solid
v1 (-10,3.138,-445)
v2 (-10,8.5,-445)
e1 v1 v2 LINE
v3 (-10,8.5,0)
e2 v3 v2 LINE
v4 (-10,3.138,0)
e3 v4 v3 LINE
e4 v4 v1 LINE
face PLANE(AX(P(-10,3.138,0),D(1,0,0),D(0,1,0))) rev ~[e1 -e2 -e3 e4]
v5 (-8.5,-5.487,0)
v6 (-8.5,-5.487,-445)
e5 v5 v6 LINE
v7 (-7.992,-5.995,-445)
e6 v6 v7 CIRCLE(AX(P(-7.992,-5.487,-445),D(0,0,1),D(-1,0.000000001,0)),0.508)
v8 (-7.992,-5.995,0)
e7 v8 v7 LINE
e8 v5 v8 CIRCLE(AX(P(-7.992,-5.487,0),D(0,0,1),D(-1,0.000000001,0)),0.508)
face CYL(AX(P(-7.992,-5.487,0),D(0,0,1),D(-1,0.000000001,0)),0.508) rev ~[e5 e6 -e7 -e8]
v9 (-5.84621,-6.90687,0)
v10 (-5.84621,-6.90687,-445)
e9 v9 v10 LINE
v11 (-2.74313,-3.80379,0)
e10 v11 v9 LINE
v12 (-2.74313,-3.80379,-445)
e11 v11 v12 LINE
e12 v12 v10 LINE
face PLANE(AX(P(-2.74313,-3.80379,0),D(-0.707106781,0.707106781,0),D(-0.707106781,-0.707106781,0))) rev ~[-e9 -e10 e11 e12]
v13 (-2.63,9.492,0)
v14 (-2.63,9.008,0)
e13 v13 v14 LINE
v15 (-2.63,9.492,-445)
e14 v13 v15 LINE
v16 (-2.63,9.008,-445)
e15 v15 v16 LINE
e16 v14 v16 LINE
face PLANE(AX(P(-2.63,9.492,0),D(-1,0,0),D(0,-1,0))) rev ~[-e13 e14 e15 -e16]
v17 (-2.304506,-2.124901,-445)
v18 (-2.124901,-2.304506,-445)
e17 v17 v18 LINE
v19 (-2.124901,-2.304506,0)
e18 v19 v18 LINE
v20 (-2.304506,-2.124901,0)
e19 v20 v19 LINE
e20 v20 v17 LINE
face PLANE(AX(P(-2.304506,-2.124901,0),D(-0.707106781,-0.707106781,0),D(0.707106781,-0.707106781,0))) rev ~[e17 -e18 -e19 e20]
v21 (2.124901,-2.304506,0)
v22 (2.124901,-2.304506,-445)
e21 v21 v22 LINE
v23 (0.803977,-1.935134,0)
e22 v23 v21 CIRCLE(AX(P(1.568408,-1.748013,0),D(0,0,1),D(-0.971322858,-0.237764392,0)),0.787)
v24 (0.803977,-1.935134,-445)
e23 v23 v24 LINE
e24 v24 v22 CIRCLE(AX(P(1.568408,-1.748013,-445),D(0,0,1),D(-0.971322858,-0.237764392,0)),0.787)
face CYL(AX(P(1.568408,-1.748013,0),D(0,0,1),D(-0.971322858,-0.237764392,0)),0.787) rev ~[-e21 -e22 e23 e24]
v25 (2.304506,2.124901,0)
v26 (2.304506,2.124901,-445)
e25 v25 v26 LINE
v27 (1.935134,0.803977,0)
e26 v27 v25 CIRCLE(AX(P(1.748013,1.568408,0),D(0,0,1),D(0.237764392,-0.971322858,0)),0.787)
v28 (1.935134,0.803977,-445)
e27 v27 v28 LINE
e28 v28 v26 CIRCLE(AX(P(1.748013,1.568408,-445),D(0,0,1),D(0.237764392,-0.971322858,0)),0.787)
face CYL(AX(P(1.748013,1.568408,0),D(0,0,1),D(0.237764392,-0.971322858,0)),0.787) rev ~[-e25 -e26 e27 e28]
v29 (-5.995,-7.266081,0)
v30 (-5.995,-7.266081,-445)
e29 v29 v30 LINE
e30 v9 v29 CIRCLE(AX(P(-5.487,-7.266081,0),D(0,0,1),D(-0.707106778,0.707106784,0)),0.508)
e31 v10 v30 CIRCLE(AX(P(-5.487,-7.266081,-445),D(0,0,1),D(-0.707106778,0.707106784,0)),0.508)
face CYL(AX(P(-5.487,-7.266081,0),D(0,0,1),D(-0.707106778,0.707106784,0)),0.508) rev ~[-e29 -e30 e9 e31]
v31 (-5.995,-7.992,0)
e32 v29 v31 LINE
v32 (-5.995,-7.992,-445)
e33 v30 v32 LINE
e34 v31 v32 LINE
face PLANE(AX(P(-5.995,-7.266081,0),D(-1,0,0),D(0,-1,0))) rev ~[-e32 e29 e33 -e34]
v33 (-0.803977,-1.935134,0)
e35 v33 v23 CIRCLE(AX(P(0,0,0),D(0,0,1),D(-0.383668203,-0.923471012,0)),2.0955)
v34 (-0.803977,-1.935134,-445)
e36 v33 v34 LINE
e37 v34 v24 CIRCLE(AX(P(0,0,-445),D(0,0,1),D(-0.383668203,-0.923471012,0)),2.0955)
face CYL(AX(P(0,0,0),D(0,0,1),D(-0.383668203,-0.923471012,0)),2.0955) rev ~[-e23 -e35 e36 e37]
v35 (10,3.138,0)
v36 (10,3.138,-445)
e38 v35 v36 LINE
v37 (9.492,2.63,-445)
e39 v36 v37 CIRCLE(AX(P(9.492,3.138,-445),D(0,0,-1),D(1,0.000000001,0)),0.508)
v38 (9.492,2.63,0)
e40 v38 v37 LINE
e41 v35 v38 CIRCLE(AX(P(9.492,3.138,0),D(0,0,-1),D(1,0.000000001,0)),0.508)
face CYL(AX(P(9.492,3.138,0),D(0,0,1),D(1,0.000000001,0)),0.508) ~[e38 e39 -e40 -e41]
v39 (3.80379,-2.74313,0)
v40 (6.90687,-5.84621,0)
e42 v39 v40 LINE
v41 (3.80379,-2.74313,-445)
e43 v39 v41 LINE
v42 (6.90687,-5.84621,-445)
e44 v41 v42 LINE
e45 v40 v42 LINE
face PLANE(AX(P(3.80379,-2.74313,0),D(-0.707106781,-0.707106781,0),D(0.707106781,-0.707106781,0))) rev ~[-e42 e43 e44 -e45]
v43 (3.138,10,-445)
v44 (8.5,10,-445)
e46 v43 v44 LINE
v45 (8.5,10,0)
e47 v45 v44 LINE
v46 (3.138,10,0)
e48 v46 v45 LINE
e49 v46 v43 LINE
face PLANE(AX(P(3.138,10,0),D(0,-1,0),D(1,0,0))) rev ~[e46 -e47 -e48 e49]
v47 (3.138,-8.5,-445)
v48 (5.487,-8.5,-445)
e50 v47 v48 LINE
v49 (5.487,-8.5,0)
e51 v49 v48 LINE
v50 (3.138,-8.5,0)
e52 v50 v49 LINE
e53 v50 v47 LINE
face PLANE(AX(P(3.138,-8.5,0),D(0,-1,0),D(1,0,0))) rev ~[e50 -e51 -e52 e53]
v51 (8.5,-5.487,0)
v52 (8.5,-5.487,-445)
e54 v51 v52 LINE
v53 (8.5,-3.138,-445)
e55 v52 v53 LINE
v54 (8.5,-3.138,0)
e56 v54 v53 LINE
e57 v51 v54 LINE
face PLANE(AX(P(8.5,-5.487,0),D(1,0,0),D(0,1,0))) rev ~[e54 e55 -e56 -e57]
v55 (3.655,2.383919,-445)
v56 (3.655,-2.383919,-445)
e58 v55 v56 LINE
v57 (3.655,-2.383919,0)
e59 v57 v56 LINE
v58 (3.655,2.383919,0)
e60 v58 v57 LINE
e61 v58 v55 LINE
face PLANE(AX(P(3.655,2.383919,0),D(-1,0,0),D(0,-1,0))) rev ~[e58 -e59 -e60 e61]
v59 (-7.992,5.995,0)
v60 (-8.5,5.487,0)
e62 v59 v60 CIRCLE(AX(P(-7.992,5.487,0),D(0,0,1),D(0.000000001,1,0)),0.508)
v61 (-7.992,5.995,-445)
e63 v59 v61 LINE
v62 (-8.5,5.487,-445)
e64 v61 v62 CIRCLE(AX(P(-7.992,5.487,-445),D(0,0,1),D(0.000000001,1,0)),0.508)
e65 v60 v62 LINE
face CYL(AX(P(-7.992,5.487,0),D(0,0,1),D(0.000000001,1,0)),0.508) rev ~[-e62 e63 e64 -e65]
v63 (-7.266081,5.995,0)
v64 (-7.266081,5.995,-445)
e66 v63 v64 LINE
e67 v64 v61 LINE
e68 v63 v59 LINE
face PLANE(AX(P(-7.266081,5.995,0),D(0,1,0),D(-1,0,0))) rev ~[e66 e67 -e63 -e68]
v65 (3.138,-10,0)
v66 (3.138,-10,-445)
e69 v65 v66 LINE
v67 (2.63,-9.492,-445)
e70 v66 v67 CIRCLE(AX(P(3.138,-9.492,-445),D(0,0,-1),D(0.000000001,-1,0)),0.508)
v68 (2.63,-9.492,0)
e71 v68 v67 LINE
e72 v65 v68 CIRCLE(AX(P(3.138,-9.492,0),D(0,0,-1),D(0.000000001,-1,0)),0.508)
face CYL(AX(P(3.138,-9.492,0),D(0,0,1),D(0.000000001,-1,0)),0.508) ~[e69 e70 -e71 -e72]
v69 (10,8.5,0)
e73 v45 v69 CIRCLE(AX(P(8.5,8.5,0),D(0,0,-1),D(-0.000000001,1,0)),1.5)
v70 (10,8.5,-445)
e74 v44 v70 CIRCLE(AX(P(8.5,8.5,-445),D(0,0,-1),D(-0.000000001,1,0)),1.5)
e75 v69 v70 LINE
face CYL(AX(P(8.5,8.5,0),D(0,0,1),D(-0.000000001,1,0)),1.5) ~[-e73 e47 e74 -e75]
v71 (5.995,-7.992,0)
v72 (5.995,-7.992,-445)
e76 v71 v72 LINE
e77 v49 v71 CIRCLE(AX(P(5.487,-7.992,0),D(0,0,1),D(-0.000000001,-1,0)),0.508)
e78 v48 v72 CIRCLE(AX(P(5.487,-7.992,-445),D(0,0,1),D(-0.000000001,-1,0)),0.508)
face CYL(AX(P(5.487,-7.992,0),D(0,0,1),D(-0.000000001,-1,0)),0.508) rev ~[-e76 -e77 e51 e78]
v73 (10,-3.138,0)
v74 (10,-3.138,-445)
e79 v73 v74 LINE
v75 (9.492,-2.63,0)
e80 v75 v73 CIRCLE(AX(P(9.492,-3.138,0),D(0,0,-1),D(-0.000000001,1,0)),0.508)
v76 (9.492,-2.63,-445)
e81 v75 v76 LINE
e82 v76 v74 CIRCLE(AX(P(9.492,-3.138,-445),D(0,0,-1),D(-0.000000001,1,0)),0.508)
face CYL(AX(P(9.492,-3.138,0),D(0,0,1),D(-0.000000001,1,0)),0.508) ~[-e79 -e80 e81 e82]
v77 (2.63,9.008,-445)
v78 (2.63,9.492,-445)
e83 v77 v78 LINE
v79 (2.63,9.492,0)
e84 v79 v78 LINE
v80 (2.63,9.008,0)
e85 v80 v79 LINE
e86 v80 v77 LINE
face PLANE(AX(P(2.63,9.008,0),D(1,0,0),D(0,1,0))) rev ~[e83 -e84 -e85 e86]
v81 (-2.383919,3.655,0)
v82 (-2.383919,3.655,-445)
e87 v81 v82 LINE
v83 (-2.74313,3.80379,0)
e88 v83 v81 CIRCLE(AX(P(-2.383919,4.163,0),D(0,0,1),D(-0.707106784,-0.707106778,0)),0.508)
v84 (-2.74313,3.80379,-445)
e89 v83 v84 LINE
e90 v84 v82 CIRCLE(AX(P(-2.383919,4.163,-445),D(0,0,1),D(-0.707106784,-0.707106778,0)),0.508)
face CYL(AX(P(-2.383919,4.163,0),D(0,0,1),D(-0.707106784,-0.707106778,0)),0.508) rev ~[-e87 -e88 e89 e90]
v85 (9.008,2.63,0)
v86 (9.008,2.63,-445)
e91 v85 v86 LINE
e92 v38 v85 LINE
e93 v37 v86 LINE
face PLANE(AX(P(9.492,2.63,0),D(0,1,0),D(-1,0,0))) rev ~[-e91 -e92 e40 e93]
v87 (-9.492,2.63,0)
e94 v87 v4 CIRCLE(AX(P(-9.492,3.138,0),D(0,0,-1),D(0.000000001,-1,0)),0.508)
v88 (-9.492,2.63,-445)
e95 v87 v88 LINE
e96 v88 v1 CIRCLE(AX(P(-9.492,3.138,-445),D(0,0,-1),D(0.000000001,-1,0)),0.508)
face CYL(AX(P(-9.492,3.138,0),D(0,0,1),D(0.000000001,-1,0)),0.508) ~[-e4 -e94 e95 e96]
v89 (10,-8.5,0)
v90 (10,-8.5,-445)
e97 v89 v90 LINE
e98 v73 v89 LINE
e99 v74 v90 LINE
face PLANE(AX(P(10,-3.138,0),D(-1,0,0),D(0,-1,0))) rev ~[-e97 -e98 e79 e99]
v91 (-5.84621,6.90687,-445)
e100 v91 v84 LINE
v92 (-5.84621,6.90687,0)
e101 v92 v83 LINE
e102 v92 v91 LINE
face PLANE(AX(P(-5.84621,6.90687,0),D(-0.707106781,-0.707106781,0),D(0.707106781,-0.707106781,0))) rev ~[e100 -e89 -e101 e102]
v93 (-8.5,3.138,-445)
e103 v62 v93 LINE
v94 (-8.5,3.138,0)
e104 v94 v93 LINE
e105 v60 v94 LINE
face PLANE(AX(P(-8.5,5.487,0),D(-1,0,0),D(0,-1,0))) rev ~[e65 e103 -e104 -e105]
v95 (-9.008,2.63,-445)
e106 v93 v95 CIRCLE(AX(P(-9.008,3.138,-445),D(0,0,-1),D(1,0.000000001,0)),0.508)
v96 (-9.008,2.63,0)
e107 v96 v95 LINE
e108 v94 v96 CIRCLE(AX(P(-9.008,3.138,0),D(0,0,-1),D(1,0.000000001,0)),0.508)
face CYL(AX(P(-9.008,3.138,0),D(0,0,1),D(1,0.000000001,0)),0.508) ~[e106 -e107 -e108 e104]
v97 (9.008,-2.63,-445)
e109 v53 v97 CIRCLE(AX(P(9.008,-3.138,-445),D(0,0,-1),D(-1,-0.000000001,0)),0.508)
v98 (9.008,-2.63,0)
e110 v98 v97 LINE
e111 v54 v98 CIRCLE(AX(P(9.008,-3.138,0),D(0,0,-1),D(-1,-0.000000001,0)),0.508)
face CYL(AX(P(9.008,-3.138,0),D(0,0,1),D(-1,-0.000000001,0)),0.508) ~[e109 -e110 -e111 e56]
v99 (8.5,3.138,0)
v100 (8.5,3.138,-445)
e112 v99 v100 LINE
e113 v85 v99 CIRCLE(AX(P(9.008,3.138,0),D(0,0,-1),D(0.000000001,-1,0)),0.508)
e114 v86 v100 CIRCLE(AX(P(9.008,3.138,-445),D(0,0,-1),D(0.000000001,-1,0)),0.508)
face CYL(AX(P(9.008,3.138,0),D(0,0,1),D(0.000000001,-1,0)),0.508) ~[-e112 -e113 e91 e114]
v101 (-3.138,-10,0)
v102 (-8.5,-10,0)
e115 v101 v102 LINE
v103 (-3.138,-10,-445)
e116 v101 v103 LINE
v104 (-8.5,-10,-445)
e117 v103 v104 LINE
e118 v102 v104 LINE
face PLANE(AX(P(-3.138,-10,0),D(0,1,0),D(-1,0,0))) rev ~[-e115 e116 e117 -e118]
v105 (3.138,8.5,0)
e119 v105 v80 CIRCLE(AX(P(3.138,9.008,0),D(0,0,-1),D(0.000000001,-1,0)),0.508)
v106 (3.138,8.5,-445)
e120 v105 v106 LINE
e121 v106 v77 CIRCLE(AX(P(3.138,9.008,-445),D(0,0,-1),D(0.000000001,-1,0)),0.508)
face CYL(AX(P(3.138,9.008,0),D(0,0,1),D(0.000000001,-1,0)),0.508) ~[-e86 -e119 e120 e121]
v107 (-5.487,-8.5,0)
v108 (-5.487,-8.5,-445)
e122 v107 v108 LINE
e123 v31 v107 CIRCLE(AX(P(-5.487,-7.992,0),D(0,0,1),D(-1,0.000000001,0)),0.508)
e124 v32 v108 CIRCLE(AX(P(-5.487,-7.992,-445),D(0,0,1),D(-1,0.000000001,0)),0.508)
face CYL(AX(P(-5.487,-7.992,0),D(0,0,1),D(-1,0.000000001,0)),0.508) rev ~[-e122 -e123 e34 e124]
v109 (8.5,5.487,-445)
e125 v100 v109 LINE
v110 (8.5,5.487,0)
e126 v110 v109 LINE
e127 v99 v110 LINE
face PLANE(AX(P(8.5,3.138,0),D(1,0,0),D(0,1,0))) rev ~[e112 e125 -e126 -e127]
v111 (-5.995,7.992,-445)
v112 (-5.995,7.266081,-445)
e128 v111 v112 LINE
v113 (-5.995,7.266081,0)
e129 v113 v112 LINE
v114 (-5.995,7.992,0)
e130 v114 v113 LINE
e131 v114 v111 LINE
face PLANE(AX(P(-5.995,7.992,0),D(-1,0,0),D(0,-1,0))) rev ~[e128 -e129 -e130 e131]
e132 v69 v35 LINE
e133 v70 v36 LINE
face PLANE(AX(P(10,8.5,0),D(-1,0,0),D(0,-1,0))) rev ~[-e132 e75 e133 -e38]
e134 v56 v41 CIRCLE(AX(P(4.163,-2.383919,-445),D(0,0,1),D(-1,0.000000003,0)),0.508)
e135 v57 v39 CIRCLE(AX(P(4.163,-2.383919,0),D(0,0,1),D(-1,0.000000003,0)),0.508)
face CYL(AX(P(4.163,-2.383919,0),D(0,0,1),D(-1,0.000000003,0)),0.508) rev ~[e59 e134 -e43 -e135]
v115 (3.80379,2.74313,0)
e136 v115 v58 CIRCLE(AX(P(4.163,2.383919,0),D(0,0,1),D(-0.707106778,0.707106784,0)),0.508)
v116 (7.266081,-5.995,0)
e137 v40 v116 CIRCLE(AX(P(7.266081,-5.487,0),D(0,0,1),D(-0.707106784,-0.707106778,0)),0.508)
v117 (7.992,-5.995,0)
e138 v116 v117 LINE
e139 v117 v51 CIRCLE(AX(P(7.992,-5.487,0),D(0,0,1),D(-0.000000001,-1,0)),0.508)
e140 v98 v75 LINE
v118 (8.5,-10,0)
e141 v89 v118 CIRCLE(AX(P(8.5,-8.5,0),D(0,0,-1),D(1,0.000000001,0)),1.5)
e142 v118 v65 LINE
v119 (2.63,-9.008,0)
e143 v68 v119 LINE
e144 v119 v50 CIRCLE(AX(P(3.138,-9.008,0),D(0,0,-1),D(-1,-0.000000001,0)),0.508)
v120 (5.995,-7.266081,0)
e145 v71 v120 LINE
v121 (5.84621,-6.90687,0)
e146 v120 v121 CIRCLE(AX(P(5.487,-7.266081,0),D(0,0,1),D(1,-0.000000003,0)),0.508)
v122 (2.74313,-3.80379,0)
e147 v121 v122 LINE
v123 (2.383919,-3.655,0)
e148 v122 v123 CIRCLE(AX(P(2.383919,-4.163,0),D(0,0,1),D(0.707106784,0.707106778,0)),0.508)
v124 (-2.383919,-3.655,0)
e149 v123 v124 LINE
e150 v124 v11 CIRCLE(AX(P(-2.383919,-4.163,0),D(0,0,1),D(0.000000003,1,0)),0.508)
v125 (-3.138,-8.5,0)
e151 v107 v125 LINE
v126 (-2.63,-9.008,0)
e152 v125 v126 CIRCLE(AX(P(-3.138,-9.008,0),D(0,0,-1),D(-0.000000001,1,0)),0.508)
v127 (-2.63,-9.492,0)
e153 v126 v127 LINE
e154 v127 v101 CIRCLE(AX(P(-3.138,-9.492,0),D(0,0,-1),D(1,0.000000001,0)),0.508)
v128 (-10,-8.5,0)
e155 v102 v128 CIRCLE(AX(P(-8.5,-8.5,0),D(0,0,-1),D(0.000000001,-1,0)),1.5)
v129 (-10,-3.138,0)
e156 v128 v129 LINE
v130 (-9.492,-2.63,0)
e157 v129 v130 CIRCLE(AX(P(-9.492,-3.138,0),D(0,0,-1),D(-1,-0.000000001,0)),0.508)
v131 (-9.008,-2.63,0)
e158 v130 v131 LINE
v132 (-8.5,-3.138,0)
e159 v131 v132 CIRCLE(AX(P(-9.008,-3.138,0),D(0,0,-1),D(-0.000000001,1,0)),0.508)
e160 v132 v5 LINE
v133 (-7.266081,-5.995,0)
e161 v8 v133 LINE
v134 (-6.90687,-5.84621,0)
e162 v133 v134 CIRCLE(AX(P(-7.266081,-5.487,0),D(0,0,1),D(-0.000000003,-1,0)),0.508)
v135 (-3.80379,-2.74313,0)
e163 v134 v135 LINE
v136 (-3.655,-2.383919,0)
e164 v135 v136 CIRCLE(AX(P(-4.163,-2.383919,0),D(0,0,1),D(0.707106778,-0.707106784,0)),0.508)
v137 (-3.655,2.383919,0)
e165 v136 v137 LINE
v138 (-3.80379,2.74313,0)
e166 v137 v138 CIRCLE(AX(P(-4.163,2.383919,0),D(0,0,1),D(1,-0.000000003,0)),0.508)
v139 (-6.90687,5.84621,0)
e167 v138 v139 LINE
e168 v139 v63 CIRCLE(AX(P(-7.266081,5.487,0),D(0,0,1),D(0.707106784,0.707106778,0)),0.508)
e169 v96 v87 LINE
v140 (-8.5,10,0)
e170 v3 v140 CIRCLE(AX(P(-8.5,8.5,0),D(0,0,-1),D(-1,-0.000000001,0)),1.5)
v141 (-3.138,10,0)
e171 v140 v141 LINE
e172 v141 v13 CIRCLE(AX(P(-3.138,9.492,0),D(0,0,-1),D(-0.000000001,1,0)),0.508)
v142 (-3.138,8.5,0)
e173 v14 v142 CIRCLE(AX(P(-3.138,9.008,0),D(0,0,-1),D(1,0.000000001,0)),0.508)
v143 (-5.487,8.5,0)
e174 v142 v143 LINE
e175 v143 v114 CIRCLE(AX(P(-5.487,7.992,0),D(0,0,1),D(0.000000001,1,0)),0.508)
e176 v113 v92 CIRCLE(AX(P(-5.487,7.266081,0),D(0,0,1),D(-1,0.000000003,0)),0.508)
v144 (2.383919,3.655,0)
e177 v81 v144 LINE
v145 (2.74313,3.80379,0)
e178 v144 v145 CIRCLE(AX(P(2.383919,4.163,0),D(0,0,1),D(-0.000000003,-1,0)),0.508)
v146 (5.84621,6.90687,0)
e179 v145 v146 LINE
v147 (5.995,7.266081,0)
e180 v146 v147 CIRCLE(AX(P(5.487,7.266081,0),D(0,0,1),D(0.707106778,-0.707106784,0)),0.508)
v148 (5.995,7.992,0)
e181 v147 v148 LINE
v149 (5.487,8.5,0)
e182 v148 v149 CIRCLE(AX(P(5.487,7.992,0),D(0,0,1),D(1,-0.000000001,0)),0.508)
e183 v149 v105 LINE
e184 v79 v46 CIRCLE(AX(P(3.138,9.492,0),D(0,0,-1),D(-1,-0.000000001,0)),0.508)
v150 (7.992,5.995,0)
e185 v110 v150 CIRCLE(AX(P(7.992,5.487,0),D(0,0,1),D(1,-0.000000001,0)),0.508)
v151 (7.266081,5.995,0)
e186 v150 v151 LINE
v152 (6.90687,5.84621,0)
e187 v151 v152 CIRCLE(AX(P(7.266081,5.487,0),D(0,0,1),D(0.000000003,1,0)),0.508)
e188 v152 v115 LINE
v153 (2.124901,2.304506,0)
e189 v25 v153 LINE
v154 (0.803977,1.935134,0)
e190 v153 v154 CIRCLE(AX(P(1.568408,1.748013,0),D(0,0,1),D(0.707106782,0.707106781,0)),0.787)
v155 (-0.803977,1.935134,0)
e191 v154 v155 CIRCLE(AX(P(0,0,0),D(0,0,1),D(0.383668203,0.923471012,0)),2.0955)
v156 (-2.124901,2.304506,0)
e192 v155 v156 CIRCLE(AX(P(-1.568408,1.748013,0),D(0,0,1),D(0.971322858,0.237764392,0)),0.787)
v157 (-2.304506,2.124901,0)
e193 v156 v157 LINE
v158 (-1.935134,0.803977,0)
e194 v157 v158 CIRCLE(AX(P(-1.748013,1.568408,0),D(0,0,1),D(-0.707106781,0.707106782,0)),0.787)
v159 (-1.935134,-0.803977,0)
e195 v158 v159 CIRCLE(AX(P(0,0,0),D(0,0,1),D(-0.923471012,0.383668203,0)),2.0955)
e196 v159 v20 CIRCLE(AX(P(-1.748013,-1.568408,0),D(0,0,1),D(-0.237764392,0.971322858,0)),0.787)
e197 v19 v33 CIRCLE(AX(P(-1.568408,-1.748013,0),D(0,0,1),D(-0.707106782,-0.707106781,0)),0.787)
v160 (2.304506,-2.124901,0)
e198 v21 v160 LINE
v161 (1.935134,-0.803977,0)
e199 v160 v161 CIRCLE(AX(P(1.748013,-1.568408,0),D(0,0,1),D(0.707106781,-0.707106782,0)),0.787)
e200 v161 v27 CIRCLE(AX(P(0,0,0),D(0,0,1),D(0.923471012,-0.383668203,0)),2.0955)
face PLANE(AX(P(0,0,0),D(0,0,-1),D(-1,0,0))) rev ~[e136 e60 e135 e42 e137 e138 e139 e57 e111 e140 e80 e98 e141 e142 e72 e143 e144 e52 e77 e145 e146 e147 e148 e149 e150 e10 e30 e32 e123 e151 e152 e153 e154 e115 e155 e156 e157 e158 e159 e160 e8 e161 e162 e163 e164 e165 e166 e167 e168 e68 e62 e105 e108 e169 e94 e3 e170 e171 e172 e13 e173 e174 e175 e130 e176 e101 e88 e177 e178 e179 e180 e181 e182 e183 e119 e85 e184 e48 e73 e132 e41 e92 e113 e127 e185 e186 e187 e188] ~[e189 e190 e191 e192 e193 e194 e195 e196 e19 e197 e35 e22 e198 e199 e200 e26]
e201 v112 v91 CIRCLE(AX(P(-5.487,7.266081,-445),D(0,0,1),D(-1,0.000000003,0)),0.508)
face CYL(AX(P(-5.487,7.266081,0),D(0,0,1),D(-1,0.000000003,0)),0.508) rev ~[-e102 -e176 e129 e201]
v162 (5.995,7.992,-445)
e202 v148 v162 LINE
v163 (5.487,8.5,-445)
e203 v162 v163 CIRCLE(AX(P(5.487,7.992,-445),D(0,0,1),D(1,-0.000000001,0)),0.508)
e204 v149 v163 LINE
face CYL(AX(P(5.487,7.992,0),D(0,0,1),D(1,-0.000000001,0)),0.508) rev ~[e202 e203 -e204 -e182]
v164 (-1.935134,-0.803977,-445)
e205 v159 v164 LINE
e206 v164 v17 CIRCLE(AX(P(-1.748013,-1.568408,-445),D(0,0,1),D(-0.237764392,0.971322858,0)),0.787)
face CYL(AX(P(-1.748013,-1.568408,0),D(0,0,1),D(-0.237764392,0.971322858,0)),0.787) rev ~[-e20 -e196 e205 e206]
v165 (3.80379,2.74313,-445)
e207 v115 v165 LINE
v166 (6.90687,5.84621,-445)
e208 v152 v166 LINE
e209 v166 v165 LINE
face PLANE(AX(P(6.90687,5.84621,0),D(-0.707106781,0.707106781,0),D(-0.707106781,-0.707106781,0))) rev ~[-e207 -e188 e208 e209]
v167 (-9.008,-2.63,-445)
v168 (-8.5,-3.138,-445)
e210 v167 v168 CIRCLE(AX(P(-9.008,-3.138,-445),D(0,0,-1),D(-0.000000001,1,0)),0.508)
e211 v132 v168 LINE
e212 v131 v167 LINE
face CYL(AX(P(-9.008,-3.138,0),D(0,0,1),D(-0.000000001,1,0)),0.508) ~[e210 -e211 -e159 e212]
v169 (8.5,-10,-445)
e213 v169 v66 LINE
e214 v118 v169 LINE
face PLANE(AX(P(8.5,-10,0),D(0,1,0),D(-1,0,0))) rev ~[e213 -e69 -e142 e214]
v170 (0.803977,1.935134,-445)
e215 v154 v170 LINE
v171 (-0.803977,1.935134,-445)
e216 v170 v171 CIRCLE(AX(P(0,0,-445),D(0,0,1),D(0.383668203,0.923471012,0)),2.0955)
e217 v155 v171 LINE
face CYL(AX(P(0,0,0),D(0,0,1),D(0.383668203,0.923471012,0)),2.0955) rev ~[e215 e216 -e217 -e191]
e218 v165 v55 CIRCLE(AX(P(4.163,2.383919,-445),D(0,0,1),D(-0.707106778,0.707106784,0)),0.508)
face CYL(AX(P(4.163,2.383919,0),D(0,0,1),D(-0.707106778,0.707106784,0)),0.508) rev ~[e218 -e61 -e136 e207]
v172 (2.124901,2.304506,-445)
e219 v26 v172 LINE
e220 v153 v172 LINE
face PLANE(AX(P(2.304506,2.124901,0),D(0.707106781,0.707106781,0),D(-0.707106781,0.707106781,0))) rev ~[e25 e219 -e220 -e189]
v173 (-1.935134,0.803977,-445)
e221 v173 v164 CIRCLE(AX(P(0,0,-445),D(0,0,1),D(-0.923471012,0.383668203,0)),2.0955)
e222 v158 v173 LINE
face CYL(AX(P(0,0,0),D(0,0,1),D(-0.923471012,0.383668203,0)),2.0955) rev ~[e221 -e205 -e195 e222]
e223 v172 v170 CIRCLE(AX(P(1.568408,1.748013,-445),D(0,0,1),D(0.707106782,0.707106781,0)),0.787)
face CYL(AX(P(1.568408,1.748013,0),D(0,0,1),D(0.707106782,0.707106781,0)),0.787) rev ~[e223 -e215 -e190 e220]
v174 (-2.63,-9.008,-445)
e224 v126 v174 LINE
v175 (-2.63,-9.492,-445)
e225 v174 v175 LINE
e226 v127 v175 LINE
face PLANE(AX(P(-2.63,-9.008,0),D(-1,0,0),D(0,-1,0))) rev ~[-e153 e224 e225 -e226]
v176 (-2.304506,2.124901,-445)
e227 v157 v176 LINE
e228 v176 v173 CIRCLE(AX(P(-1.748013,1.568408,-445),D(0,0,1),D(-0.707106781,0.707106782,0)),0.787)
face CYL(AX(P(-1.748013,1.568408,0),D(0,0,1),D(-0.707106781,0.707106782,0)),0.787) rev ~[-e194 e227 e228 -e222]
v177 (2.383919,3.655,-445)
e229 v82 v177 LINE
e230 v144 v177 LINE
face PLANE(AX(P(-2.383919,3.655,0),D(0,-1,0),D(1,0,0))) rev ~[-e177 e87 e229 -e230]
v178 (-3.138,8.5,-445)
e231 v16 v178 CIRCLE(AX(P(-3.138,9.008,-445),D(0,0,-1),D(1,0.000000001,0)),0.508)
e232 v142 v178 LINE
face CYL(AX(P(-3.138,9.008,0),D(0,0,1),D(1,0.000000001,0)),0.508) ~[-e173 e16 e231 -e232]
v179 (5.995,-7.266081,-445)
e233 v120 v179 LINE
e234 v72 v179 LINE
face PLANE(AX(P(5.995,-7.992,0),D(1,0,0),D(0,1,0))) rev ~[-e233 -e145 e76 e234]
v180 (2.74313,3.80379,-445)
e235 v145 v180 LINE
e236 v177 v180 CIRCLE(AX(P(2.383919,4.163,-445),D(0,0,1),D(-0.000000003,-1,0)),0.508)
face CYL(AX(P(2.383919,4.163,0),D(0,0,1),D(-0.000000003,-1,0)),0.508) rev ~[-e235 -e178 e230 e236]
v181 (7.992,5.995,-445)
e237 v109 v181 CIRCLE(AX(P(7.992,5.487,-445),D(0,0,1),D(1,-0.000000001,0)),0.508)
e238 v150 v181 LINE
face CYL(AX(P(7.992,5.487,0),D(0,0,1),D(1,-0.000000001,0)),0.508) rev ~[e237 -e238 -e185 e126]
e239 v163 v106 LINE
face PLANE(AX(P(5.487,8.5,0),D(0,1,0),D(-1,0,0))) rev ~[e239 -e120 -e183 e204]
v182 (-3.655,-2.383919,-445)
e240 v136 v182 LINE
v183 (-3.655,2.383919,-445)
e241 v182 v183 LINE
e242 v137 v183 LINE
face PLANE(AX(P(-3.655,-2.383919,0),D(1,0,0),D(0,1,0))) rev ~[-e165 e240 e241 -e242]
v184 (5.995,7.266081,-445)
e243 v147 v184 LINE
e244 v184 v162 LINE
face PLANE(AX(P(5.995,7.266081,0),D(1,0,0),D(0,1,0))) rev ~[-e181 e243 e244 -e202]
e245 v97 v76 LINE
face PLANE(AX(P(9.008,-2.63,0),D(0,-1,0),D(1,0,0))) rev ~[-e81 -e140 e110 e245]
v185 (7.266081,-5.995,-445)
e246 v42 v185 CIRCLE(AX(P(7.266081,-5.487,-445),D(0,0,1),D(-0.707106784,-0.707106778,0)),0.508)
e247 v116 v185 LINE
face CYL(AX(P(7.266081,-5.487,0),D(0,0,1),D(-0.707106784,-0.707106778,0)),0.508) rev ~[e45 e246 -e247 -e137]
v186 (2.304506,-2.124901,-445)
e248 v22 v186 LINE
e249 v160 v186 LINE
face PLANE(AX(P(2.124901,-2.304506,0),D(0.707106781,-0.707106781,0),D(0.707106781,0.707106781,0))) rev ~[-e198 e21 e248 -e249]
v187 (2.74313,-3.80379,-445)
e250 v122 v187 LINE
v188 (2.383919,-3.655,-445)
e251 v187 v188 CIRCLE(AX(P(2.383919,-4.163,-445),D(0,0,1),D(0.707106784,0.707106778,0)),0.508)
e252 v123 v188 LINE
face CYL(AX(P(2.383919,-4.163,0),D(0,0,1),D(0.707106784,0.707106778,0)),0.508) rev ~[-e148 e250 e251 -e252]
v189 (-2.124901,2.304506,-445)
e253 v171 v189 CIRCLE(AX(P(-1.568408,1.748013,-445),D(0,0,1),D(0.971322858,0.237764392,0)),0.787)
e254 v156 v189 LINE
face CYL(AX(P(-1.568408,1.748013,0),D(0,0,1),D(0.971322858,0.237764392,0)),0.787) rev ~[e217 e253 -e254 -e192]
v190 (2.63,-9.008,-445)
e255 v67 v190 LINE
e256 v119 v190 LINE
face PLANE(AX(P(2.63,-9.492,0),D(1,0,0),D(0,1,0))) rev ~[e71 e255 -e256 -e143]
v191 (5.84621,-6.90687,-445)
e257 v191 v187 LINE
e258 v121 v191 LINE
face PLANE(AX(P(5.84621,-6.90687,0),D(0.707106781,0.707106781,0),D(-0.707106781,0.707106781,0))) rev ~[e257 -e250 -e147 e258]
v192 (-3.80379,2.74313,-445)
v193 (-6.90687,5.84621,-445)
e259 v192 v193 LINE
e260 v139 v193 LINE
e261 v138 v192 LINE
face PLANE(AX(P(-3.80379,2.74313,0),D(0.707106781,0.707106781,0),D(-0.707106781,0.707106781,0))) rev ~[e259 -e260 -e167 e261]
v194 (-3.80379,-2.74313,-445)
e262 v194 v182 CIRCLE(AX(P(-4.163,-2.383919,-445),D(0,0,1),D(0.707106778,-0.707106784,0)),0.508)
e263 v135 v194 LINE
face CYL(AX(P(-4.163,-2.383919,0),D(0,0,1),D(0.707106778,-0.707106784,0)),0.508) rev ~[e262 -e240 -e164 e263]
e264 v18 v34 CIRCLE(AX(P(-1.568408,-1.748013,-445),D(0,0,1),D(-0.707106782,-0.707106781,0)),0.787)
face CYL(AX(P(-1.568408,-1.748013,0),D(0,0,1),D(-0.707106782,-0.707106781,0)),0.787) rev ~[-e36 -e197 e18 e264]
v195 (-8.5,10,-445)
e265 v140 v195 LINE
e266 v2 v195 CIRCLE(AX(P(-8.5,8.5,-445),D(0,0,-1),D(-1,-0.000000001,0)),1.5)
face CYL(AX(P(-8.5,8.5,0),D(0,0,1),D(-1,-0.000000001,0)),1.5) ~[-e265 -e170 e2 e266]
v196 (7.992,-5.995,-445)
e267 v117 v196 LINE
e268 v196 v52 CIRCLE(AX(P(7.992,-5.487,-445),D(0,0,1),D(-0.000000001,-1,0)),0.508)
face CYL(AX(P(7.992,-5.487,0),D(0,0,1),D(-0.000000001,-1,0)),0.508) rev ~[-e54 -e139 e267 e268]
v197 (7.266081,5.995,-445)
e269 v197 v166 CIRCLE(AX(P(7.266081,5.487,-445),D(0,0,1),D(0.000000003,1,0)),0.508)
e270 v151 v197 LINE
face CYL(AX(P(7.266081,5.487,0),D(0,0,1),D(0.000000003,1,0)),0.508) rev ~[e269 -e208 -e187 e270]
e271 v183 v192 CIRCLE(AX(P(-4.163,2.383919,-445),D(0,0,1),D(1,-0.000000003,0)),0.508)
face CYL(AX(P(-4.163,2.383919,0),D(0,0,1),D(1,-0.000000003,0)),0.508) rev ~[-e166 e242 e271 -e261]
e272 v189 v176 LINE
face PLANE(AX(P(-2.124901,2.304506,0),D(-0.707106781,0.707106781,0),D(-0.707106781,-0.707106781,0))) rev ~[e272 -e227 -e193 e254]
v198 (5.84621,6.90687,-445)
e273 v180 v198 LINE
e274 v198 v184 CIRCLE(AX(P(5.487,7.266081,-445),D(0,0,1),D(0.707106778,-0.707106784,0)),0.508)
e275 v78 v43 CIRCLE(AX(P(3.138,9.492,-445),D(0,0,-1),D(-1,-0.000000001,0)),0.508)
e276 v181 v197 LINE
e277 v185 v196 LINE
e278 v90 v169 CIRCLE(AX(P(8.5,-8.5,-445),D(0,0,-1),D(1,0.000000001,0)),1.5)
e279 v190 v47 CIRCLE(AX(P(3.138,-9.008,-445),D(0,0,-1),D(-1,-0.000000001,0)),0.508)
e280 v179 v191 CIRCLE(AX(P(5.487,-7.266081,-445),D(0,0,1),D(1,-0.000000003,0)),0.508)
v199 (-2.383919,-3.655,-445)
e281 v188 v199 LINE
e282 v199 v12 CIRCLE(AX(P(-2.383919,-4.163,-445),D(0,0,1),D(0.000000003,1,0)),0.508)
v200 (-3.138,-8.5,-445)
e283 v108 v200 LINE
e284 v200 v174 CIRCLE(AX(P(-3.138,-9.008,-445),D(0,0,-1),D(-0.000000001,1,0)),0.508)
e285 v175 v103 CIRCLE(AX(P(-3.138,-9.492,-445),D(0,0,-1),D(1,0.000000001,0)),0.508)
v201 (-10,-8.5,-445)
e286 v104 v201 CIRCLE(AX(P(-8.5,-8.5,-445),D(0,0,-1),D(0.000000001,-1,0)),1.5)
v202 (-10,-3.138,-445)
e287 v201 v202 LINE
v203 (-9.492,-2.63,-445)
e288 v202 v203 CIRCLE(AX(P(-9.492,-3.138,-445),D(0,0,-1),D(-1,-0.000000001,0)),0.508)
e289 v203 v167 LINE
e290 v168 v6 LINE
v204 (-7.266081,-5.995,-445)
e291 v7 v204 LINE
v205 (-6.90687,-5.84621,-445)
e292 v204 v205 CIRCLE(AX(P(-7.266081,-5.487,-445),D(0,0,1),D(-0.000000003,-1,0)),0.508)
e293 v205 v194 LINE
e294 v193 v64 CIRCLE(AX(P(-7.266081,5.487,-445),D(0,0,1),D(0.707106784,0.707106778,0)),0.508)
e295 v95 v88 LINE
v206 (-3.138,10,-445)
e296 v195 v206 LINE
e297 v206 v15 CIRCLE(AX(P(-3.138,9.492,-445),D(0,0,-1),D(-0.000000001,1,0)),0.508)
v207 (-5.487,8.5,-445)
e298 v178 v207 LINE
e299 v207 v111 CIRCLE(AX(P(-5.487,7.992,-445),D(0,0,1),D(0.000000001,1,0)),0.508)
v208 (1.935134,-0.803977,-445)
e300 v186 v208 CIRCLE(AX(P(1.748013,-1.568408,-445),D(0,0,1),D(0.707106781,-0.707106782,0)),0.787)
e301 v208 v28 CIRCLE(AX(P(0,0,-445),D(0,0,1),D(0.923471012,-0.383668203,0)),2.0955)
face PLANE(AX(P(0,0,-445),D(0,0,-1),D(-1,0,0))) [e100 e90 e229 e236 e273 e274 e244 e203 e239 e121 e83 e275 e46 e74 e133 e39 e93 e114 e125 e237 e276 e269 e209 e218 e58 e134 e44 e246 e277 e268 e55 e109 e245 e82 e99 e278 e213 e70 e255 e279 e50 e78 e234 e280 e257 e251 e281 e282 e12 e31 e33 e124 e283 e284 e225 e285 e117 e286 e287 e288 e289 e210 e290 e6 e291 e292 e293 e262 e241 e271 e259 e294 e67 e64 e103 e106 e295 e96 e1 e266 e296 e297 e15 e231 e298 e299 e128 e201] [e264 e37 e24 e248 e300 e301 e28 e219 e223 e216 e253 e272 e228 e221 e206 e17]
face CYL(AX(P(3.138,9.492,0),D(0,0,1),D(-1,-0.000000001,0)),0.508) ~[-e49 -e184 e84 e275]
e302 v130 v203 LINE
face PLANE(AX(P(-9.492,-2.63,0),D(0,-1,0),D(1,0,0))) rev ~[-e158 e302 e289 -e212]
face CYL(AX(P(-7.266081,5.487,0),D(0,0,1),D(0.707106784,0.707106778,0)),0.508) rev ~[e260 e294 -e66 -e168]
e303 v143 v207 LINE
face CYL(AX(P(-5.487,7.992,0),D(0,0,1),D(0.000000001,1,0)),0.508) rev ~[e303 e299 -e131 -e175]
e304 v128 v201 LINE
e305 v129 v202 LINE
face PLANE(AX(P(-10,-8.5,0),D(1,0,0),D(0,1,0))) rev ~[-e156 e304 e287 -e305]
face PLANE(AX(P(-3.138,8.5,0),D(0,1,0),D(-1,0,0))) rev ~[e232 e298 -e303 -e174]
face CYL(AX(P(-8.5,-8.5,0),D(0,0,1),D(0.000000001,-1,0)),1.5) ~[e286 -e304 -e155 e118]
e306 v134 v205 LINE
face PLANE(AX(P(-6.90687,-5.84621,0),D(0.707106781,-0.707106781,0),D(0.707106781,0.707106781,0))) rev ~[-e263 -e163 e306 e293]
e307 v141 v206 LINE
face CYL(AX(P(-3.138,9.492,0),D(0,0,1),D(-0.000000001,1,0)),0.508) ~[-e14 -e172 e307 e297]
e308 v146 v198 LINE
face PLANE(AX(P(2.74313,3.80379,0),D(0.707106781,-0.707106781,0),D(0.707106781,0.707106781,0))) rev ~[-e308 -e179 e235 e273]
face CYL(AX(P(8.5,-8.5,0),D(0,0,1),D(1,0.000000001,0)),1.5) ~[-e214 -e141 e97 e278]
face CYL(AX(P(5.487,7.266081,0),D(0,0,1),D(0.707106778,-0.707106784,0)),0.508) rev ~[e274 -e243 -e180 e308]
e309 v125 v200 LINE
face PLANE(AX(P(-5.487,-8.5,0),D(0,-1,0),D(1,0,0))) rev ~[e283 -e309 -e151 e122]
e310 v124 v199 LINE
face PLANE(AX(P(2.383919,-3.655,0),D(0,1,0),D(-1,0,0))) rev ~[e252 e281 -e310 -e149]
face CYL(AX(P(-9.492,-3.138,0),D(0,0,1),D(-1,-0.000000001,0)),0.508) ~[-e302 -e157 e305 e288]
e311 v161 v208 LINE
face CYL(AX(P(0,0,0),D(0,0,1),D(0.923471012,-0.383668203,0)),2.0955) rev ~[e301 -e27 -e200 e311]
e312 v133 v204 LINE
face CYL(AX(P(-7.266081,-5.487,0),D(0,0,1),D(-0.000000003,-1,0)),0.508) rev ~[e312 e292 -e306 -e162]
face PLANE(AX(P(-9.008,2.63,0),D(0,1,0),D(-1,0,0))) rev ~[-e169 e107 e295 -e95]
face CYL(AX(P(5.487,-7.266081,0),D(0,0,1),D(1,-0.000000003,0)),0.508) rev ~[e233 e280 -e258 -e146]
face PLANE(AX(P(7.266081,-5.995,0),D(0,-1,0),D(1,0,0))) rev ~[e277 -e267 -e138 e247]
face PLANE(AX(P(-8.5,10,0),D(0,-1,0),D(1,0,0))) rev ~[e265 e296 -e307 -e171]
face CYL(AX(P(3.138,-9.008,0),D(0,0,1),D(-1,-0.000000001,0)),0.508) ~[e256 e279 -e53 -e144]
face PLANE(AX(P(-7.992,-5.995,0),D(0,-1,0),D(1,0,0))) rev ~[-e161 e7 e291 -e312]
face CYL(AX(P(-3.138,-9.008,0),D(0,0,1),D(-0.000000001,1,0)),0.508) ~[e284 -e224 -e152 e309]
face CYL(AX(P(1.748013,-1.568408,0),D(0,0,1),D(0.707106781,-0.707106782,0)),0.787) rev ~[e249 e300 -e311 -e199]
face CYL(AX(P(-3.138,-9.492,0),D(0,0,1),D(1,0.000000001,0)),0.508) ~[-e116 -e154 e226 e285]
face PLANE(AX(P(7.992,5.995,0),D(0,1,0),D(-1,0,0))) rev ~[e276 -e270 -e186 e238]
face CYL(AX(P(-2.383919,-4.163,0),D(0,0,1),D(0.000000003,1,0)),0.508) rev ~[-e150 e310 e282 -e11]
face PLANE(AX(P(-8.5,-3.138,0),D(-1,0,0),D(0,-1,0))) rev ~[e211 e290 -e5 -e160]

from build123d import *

# Parameters (mm, degrees)
EXTRUDE1_DEPTH = 445


with BuildPart() as part:
    # Sketch1 → Extrude1 (new body)
    with BuildSketch(Plane.XY):
        with BuildLine():
            Line((9.492, 2.63), (9.008, 2.63))
            ThreePointArc((9.008, 2.63), (8.648789755, 2.778789755), (8.5, 3.138))
            Line((8.5, 3.138), (8.5, 5.487))
            ThreePointArc((8.5, 5.487), (8.351210245, 5.846210245), (7.992, 5.995))
            Line((7.992, 5.995), (7.266080661, 5.995))
            ThreePointArc((7.266080661, 5.995), (7.071677478, 5.956330803), (6.906870417, 5.846210245))
            Line((6.906870417, 5.846210245), (3.803789755, 2.743129583))
            ThreePointArc((3.803789755, 2.743129583), (3.693669197, 2.578322522), (3.655, 2.383919339))
            Line((3.655, 2.383919339), (3.655, -2.383919339))
            ThreePointArc((3.655, -2.383919339), (3.693669197, -2.578322522), (3.803789755, -2.743129583))
            Line((3.803789755, -2.743129583), (6.906870417, -5.846210245))
            ThreePointArc((6.906870417, -5.846210245), (7.071677478, -5.956330803), (7.266080661, -5.995))
            Line((7.266080661, -5.995), (7.992, -5.995))
            ThreePointArc((7.992, -5.995), (8.351210245, -5.846210245), (8.5, -5.487))
            Line((8.5, -5.487), (8.5, -3.138))
            ThreePointArc((8.5, -3.138), (8.648789755, -2.778789755), (9.008, -2.63))
            Line((9.008, -2.63), (9.492, -2.63))
            ThreePointArc((9.492, -2.63), (9.851210245, -2.778789755), (10, -3.138))
            Line((10, -3.138), (10, -8.5))
            ThreePointArc((10, -8.5), (9.560660172, -9.560660172), (8.5, -10))
            Line((8.5, -10), (3.138, -10))
            ThreePointArc((3.138, -10), (2.778789755, -9.851210245), (2.63, -9.492))
            Line((2.63, -9.492), (2.63, -9.008))
            ThreePointArc((2.63, -9.008), (2.778789755, -8.648789755), (3.138, -8.5))
            Line((3.138, -8.5), (5.487, -8.5))
            ThreePointArc((5.487, -8.5), (5.846210245, -8.351210245), (5.995, -7.992))
            Line((5.995, -7.992), (5.995, -7.266080661))
            ThreePointArc((5.995, -7.266080661), (5.956330803, -7.071677478), (5.846210245, -6.906870417))
            Line((5.846210245, -6.906870417), (2.743129583, -3.803789755))
            ThreePointArc((2.743129583, -3.803789755), (2.578322522, -3.693669197), (2.383919339, -3.655))
            Line((2.383919339, -3.655), (-2.383919339, -3.655))
            ThreePointArc((-2.383919339, -3.655), (-2.578322522, -3.693669197), (-2.743129583, -3.803789755))
            Line((-2.743129583, -3.803789755), (-5.846210245, -6.906870417))
            ThreePointArc((-5.846210245, -6.906870417), (-5.956330803, -7.071677478), (-5.995, -7.266080661))
            Line((-5.995, -7.266080661), (-5.995, -7.992))
            ThreePointArc((-5.995, -7.992), (-5.846210245, -8.351210245), (-5.487, -8.5))
            Line((-5.487, -8.5), (-3.138, -8.5))
            ThreePointArc((-3.138, -8.5), (-2.778789755, -8.648789755), (-2.63, -9.008))
            Line((-2.63, -9.008), (-2.63, -9.492))
            ThreePointArc((-2.63, -9.492), (-2.778789755, -9.851210245), (-3.138, -10))
            Line((-3.138, -10), (-8.5, -10))
            ThreePointArc((-8.5, -10), (-9.560660172, -9.560660172), (-10, -8.5))
            Line((-10, -8.5), (-10, -3.138))
            ThreePointArc((-10, -3.138), (-9.851210245, -2.778789755), (-9.492, -2.63))
            Line((-9.492, -2.63), (-9.008, -2.63))
            ThreePointArc((-9.008, -2.63), (-8.648789755, -2.778789755), (-8.5, -3.138))
            Line((-8.5, -3.138), (-8.5, -5.487))
            ThreePointArc((-8.5, -5.487), (-8.351210245, -5.846210245), (-7.992, -5.995))
            Line((-7.992, -5.995), (-7.266080661, -5.995))
            ThreePointArc((-7.266080661, -5.995), (-7.071677478, -5.956330803), (-6.906870417, -5.846210245))
            Line((-6.906870417, -5.846210245), (-3.803789755, -2.743129583))
            ThreePointArc((-3.803789755, -2.743129583), (-3.693669197, -2.578322522), (-3.655, -2.383919339))
            Line((-3.655, -2.383919339), (-3.655, 2.383919339))
            ThreePointArc((-3.655, 2.383919339), (-3.693669197, 2.578322522), (-3.803789755, 2.743129583))
            Line((-3.803789755, 2.743129583), (-6.906870417, 5.846210245))
            ThreePointArc((-6.906870417, 5.846210245), (-7.071677478, 5.956330803), (-7.266080661, 5.995))
            Line((-7.266080661, 5.995), (-7.992, 5.995))
            ThreePointArc((-7.992, 5.995), (-8.351210245, 5.846210245), (-8.5, 5.487))
            Line((-8.5, 5.487), (-8.5, 3.138))
            ThreePointArc((-8.5, 3.138), (-8.648789755, 2.778789755), (-9.008, 2.63))
            Line((-9.008, 2.63), (-9.492, 2.63))
            ThreePointArc((-9.492, 2.63), (-9.851210245, 2.778789755), (-10, 3.138))
            Line((-10, 3.138), (-10, 8.5))
            ThreePointArc((-10, 8.5), (-9.560660172, 9.560660172), (-8.5, 10))
            Line((-8.5, 10), (-3.138, 10))
            ThreePointArc((-3.138, 10), (-2.778789755, 9.851210245), (-2.63, 9.492))
            Line((-2.63, 9.492), (-2.63, 9.008))
            ThreePointArc((-2.63, 9.008), (-2.778789755, 8.648789755), (-3.138, 8.5))
            Line((-3.138, 8.5), (-5.487, 8.5))
            ThreePointArc((-5.487, 8.5), (-5.846210245, 8.351210245), (-5.995, 7.992))
            Line((-5.995, 7.992), (-5.995, 7.266080661))
            ThreePointArc((-5.995, 7.266080661), (-5.956330803, 7.071677478), (-5.846210245, 6.906870417))
            Line((-5.846210245, 6.906870417), (-2.743129583, 3.803789755))
            ThreePointArc((-2.743129583, 3.803789755), (-2.578322522, 3.693669197), (-2.383919339, 3.655))
            Line((-2.383919339, 3.655), (2.383919339, 3.655))
            ThreePointArc((2.383919339, 3.655), (2.578322522, 3.693669197), (2.743129583, 3.803789755))
            Line((2.743129583, 3.803789755), (5.846210245, 6.906870417))
            ThreePointArc((5.846210245, 6.906870417), (5.956330803, 7.071677478), (5.995, 7.266080661))
            Line((5.995, 7.266080661), (5.995, 7.992))
            ThreePointArc((5.995, 7.992), (5.846210245, 8.351210245), (5.487, 8.5))
            Line((5.487, 8.5), (3.138, 8.5))
            ThreePointArc((3.138, 8.5), (2.778789755, 8.648789755), (2.63, 9.008))
            Line((2.63, 9.008), (2.63, 9.492))
            ThreePointArc((2.63, 9.492), (2.778789755, 9.851210245), (3.138, 10))
            Line((3.138, 10), (8.5, 10))
            ThreePointArc((8.5, 10), (9.560660172, 9.560660172), (10, 8.5))
            Line((10, 8.5), (10, 3.138))
            ThreePointArc((10, 3.138), (9.851210245, 2.778789755), (9.492, 2.63))
        make_face()
        with BuildLine():
            Line((2.124900844, -2.304505966), (2.304505966, -2.124900844))
            ThreePointArc((2.304505966, -2.124900844), (2.505938017, -1.356467811), (1.935133506, -0.803976718))
            ThreePointArc((1.935133506, -0.803976718), (2.0955, 0), (1.935133506, 0.803976718))
            ThreePointArc((1.935133506, 0.803976718), (2.505938017, 1.356467811), (2.304505966, 2.124900844))
            Line((2.304505966, 2.124900844), (2.124900844, 2.304505966))
            ThreePointArc((2.124900844, 2.304505966), (1.356467811, 2.505938017), (0.803976718, 1.935133506))
            ThreePointArc((0.803976718, 1.935133506), (0, 2.0955), (-0.803976718, 1.935133506))
            ThreePointArc((-0.803976718, 1.935133506), (-1.356467811, 2.505938017), (-2.124900844, 2.304505966))
            Line((-2.124900844, 2.304505966), (-2.304505966, 2.124900844))
            ThreePointArc((-2.304505966, 2.124900844), (-2.505938017, 1.356467811), (-1.935133506, 0.803976718))
            ThreePointArc((-1.935133506, 0.803976718), (-2.0955, 0), (-1.935133506, -0.803976718))
            ThreePointArc((-1.935133506, -0.803976718), (-2.505938017, -1.356467811), (-2.304505966, -2.124900844))
            Line((-2.304505966, -2.124900844), (-2.124900844, -2.304505966))
            ThreePointArc((-2.124900844, -2.304505966), (-1.356467811, -2.505938017), (-0.803976718, -1.935133506))
            ThreePointArc((-0.803976718, -1.935133506), (0, -2.0955), (0.803976718, -1.935133506))
            ThreePointArc((0.803976718, -1.935133506), (1.356467811, -2.505938017), (2.124900844, -2.304505966))
        make_face(mode=Mode.SUBTRACT)
    extrude(amount=-EXTRUDE1_DEPTH)


solid = part.part
